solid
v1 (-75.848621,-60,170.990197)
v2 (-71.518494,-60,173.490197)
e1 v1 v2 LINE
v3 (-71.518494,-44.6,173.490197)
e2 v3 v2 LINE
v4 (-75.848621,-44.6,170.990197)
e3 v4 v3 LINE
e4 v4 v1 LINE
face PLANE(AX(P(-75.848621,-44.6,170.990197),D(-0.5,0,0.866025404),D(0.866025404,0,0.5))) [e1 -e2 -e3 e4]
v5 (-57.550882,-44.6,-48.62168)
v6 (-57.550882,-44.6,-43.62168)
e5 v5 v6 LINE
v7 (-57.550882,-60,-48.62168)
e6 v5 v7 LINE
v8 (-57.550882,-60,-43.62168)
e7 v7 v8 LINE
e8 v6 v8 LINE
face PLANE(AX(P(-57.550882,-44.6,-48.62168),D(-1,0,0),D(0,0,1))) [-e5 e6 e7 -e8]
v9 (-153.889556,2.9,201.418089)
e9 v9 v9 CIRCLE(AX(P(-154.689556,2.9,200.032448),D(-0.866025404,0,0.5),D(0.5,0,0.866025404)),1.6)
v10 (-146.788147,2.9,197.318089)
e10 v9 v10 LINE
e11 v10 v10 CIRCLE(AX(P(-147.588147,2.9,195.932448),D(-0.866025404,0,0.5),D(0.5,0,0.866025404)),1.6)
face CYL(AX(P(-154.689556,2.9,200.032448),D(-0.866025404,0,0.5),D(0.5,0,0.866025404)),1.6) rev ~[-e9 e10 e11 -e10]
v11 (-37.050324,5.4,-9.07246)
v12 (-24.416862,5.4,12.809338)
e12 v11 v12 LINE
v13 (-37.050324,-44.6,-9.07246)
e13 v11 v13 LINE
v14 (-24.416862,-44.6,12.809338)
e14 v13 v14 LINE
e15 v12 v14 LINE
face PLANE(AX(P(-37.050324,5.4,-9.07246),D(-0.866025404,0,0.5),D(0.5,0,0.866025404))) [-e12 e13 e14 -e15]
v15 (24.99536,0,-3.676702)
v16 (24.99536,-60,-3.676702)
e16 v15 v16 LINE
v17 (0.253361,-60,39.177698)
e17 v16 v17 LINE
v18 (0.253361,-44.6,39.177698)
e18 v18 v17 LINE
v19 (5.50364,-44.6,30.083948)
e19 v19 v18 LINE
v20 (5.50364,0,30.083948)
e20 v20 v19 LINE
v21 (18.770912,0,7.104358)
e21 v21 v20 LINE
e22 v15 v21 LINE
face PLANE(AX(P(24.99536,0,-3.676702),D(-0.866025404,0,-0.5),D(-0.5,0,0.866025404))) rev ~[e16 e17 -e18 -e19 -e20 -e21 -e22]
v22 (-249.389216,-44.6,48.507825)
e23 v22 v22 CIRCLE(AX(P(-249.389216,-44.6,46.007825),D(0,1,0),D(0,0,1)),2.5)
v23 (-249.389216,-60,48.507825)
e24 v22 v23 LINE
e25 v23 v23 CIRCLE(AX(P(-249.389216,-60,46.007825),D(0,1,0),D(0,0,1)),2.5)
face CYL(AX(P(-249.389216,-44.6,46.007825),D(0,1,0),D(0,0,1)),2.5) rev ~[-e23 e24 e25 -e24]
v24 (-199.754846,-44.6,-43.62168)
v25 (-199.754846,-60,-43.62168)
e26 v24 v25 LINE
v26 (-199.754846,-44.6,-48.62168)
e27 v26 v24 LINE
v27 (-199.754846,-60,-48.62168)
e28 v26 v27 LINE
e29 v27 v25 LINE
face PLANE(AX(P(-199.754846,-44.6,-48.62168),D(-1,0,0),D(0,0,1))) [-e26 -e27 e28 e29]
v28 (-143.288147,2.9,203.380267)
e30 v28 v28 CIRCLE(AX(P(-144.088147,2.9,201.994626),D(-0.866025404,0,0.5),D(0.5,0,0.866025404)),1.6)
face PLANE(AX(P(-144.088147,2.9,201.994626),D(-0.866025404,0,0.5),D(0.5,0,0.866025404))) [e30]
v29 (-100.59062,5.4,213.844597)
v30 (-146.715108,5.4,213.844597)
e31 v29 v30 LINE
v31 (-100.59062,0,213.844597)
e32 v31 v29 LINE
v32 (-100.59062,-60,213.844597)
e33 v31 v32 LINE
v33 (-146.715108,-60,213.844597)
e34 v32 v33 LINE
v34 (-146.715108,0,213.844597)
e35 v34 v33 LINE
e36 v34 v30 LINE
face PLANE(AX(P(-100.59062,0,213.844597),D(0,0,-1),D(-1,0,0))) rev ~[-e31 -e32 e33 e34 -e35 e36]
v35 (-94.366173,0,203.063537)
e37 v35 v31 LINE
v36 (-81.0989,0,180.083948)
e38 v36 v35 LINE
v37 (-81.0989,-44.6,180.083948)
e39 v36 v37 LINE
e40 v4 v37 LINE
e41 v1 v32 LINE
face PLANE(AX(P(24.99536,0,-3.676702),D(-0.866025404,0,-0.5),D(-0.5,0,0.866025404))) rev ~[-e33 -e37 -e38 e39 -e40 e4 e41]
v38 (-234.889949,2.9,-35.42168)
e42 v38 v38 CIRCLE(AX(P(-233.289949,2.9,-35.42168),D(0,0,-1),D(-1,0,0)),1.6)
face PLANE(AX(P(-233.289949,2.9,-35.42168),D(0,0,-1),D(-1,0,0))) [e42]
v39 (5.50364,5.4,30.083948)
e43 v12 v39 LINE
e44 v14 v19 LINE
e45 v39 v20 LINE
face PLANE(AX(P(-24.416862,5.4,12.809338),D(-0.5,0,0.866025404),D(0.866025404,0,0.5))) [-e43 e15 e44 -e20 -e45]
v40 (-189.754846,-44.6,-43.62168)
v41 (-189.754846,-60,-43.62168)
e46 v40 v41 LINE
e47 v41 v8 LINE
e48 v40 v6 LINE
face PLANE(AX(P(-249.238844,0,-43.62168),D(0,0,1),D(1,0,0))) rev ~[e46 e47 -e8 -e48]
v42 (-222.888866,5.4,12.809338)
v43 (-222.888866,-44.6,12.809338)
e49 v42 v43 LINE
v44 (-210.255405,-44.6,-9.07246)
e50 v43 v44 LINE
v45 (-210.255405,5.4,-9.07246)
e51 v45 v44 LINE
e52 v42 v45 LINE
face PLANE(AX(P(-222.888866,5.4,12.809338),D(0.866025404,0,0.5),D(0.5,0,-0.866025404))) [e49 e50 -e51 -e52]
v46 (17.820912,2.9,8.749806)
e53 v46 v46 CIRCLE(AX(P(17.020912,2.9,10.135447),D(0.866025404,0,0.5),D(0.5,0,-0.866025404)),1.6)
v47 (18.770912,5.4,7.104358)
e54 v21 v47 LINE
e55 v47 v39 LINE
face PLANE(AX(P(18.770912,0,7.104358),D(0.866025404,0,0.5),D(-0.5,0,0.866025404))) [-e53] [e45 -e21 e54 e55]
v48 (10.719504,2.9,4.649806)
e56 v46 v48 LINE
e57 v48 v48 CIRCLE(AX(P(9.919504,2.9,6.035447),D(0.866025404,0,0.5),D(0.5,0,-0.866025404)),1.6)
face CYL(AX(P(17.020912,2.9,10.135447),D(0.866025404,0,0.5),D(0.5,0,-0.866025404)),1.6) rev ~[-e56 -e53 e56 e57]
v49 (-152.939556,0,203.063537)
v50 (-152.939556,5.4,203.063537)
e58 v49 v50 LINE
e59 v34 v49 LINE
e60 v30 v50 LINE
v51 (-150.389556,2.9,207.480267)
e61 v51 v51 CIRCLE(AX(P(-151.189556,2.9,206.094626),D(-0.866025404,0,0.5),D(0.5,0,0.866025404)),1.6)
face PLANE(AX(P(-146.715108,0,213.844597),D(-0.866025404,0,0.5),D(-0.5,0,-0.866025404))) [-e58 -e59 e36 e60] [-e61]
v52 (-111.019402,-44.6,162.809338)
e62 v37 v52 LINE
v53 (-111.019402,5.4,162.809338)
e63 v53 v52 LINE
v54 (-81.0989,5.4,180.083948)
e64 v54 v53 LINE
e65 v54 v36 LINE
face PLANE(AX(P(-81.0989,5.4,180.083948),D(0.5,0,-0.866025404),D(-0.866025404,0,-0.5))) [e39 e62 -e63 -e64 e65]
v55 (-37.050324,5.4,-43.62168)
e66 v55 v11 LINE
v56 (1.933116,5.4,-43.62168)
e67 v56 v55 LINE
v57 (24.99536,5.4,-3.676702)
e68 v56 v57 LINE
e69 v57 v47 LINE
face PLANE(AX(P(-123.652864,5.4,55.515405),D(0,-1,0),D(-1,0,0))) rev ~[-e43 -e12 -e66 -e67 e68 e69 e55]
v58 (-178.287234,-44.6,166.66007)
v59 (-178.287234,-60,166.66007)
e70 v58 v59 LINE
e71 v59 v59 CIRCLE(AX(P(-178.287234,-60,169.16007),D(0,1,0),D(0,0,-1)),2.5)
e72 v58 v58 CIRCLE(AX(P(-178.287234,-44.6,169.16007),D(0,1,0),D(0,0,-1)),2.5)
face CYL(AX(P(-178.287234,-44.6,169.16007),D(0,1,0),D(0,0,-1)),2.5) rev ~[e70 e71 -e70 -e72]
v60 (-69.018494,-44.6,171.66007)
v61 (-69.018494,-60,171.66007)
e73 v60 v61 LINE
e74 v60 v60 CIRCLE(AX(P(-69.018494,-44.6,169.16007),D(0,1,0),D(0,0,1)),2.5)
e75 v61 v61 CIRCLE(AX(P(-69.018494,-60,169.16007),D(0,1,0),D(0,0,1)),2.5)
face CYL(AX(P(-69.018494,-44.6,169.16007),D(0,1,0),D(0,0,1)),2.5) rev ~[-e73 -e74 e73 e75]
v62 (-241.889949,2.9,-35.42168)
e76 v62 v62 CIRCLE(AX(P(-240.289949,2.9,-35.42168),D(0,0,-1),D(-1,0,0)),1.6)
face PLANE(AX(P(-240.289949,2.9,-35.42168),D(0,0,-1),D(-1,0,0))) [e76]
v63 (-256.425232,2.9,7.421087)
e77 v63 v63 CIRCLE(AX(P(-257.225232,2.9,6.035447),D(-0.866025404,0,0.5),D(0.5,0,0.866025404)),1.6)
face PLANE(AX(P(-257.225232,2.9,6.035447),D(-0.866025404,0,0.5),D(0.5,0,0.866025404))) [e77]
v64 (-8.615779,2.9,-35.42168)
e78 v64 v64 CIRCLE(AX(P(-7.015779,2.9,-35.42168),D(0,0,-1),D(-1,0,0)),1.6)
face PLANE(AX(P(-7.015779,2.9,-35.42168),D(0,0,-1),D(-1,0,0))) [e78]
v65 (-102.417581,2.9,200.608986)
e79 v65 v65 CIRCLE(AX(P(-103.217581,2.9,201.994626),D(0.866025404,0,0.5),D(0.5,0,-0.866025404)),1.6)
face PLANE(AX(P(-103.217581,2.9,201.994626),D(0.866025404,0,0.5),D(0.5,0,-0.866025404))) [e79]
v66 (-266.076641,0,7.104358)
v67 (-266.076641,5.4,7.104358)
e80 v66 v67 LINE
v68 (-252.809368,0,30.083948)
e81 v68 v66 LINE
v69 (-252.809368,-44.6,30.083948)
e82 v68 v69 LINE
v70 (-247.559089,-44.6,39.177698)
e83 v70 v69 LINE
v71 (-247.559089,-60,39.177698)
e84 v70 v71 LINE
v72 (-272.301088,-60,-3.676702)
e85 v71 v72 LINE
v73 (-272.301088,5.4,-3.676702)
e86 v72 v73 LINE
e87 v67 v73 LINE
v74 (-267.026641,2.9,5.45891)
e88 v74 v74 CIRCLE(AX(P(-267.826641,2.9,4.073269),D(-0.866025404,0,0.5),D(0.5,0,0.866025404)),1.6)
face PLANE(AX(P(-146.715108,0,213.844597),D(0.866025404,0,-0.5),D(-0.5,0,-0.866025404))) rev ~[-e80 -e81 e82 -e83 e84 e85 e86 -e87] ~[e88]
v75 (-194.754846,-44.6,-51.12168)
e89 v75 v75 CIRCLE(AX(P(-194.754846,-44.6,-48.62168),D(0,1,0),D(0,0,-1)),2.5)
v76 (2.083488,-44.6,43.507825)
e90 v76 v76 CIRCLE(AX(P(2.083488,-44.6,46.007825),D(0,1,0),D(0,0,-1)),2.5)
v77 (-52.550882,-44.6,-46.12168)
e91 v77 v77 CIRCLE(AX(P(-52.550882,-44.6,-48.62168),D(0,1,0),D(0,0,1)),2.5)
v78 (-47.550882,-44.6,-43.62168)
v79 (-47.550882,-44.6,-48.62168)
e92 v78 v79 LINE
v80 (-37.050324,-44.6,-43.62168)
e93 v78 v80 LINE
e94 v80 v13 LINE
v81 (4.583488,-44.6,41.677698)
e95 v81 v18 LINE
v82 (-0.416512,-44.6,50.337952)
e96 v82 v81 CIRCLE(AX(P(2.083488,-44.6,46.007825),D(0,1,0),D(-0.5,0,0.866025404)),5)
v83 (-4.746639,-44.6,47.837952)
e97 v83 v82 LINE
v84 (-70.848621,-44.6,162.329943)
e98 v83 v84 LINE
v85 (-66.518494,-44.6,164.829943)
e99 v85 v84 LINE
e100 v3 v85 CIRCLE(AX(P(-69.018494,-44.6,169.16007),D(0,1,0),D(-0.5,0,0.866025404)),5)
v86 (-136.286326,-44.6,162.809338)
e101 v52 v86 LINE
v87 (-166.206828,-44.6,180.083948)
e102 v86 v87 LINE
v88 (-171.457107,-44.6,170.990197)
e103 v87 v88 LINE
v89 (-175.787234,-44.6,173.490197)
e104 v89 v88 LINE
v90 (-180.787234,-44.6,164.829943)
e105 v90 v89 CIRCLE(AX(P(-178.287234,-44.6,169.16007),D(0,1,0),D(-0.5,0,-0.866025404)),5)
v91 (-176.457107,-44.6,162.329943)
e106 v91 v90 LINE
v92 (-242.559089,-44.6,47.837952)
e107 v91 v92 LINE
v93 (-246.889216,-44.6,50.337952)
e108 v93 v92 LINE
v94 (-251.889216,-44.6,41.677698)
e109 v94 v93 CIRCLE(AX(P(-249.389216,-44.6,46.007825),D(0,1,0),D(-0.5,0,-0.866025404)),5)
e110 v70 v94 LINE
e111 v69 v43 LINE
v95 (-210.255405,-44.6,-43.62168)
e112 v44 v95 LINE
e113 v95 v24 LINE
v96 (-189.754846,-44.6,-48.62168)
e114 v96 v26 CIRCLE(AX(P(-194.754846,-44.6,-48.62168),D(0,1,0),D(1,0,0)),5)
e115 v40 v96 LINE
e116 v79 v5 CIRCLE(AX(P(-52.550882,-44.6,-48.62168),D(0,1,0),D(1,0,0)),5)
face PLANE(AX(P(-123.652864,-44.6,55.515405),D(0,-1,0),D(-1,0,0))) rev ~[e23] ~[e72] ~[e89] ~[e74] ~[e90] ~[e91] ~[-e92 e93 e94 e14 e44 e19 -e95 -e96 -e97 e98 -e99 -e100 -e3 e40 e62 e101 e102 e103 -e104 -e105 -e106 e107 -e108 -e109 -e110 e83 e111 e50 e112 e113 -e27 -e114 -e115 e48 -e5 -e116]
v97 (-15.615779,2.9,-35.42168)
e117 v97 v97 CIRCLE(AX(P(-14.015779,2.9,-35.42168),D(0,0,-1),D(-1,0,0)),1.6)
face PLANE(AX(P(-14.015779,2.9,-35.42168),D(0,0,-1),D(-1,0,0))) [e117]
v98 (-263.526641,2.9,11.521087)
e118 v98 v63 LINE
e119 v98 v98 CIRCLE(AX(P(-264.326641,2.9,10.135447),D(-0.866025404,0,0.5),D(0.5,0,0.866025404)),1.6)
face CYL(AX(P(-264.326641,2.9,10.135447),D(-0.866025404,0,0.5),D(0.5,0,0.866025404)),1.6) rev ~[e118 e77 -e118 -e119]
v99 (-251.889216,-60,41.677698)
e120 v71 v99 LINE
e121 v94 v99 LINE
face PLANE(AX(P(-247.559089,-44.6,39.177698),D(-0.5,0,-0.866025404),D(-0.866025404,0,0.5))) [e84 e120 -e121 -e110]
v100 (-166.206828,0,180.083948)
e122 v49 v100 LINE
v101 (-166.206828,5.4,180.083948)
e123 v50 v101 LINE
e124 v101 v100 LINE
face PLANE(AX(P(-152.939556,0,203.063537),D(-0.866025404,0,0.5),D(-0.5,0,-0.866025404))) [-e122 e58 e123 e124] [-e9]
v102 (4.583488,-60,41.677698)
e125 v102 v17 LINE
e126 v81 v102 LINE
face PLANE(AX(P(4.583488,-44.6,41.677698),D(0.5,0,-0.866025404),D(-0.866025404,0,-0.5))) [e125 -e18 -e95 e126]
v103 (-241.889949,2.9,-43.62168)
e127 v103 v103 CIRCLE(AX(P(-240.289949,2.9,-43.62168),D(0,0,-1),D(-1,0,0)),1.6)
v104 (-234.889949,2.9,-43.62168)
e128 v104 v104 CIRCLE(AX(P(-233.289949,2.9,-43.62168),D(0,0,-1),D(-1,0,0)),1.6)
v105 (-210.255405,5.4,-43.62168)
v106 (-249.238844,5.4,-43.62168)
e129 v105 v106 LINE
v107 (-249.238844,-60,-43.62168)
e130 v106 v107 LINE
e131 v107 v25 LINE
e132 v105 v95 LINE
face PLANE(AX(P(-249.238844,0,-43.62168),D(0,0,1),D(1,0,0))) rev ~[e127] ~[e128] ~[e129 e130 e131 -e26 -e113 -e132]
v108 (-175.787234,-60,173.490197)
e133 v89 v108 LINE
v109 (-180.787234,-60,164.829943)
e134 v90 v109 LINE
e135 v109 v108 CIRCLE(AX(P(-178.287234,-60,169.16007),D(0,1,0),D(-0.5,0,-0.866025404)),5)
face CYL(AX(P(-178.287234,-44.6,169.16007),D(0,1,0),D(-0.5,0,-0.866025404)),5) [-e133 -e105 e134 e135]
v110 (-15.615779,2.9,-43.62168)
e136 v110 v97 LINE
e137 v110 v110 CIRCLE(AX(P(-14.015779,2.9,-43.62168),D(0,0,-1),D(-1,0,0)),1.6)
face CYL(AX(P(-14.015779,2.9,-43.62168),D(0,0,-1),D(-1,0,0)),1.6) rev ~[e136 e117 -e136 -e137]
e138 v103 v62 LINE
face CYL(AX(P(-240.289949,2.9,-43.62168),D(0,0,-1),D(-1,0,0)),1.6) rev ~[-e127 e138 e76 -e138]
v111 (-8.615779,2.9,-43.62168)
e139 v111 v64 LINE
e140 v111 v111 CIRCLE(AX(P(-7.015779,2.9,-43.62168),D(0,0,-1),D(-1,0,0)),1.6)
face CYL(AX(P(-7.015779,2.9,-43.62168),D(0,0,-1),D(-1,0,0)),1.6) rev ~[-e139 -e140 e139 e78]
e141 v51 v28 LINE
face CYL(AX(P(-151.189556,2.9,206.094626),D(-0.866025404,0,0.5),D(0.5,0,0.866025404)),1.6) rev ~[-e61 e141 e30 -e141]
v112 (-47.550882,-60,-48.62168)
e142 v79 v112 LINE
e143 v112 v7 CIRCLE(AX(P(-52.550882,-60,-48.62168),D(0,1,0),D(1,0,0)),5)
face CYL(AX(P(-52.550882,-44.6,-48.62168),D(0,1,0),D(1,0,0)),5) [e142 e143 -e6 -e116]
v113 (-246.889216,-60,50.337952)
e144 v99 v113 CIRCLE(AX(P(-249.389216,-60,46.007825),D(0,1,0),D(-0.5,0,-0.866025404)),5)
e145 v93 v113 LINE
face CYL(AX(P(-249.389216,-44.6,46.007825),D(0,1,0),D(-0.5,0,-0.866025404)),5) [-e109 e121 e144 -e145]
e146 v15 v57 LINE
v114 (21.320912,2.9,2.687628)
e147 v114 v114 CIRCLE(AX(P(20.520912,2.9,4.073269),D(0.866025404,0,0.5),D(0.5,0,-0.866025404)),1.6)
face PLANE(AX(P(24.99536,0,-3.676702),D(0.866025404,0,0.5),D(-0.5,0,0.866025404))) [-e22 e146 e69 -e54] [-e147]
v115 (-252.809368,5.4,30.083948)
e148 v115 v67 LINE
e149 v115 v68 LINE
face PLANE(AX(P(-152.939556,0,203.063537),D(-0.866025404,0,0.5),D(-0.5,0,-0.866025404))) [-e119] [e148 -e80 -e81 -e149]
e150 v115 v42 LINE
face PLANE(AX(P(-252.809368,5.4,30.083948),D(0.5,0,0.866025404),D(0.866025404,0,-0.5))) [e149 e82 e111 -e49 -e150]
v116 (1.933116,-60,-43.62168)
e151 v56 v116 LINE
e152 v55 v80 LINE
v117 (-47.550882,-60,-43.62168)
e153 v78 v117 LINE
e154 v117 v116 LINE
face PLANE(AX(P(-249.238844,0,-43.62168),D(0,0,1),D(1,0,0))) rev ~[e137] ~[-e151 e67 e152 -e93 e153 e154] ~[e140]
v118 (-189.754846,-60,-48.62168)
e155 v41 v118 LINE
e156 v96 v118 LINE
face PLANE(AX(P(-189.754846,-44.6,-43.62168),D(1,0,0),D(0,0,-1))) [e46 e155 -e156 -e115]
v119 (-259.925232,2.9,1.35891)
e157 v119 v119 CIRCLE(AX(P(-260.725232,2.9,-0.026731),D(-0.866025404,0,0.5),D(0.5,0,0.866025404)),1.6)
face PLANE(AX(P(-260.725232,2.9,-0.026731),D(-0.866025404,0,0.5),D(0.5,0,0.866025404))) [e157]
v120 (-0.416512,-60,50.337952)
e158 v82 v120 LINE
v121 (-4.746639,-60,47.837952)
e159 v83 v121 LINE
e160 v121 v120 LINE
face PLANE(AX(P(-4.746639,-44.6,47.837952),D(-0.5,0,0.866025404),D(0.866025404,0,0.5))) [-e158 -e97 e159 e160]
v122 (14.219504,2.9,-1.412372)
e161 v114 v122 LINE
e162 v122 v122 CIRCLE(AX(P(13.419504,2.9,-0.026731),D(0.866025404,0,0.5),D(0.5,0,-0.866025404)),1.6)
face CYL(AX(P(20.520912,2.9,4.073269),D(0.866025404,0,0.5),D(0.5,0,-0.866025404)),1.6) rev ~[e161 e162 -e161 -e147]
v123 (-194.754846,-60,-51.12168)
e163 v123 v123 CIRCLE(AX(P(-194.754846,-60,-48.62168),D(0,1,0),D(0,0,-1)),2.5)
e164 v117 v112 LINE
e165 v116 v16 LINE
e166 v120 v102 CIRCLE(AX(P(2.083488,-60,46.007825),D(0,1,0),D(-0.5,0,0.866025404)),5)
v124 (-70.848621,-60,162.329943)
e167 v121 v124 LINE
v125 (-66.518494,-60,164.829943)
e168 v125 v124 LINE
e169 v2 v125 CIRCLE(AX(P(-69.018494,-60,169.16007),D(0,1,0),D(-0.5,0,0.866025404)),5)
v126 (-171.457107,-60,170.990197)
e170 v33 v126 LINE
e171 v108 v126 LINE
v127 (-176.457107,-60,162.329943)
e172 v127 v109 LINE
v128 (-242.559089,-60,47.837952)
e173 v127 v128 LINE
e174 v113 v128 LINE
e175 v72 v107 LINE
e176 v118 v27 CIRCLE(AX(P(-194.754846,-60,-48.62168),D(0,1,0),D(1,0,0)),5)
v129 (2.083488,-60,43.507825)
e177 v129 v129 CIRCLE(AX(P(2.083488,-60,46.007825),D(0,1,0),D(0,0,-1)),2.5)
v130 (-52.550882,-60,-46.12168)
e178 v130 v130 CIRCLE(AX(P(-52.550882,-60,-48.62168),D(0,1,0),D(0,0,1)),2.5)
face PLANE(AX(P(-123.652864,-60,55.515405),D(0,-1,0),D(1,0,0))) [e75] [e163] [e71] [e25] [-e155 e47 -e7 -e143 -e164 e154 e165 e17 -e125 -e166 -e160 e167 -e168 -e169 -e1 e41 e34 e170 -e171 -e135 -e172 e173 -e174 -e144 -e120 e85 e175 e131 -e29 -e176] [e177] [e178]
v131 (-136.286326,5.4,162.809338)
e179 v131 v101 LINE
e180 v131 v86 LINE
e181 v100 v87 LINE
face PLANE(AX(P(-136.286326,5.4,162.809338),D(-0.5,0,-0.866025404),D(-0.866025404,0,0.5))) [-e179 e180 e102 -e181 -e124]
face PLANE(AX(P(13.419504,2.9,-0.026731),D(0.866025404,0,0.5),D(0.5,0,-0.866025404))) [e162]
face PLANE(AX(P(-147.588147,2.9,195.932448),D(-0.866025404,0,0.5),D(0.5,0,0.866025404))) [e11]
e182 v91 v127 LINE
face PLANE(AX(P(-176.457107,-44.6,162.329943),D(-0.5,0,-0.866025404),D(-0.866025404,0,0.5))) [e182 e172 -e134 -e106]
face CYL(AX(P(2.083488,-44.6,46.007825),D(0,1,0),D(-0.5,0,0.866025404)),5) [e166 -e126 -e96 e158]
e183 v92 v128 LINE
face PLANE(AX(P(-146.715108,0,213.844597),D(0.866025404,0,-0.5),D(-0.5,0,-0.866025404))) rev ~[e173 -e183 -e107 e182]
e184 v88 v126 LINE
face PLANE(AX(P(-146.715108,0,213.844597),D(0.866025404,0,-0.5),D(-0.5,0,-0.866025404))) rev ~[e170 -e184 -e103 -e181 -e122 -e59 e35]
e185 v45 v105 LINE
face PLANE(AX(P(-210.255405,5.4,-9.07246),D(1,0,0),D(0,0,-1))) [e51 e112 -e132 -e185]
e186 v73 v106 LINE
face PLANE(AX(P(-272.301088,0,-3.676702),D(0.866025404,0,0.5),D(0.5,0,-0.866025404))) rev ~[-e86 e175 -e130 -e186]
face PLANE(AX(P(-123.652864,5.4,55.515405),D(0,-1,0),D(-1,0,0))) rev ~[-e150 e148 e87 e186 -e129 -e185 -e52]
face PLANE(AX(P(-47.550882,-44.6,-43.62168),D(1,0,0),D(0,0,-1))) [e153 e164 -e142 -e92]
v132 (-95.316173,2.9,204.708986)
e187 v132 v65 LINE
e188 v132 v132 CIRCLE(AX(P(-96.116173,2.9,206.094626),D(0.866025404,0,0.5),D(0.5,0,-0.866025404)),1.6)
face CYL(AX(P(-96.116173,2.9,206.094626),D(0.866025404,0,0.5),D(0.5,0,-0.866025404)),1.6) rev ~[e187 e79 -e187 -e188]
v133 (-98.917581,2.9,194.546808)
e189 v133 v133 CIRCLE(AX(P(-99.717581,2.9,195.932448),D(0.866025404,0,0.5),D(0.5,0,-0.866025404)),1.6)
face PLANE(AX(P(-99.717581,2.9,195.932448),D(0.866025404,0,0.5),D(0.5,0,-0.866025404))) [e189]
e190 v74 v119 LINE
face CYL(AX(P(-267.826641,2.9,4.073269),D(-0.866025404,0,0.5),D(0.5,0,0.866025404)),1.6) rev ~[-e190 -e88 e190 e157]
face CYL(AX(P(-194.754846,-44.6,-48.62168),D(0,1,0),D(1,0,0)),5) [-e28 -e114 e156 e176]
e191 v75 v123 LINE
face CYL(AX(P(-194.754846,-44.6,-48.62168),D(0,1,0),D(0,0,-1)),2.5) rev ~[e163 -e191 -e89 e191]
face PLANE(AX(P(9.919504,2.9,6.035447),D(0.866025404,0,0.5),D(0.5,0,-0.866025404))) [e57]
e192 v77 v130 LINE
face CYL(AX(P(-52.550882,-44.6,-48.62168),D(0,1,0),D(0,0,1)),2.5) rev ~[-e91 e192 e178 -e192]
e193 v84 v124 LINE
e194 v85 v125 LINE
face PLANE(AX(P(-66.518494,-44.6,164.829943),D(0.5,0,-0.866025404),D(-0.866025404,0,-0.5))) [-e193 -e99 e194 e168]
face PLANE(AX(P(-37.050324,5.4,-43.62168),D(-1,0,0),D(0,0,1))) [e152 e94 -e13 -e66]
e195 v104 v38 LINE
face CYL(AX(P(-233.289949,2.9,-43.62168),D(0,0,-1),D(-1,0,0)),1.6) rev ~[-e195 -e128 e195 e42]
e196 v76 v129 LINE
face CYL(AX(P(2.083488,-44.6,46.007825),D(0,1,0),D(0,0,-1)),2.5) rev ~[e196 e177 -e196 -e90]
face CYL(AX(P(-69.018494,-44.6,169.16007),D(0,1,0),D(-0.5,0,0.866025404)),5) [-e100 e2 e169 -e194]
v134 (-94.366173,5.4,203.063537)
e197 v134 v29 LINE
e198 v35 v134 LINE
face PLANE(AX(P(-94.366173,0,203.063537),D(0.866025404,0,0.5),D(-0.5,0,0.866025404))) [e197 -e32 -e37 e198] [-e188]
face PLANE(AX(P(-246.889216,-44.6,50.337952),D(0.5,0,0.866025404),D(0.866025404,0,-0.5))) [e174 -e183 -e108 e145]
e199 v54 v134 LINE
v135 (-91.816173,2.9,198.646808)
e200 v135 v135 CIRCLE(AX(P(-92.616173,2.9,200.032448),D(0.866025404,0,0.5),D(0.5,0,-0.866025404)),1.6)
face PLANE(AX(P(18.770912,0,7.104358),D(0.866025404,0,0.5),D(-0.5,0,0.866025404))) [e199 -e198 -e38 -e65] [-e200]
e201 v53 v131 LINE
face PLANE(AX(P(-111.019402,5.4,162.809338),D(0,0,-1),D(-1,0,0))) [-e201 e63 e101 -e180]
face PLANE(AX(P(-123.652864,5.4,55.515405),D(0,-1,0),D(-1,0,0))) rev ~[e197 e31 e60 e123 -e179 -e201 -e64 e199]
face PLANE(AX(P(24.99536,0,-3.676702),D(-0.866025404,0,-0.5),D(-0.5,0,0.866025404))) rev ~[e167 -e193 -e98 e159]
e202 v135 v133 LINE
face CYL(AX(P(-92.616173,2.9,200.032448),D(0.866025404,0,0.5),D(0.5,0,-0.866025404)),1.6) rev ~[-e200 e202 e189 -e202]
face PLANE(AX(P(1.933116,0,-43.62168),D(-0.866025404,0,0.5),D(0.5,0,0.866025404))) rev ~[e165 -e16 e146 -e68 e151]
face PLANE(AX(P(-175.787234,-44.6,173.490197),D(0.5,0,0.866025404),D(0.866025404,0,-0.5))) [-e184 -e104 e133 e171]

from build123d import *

# Parameters (mm, degrees)
BOSS_EXTRUDE2_DEPTH = 5.4
BOSS_EXTRUDE3_DEPTH = 60
SKETCH28_R          = 1.6
CUT_EXTRUDE3_DEPTH  = 8.2
SKETCH29_R          = 1.6
CUT_EXTRUDE4_DEPTH  = 8.2
SKETCH30_R          = 1.6
CUT_EXTRUDE5_DEPTH  = 8.2
SKETCH31_R          = 1.6
CUT_EXTRUDE6_DEPTH  = 8.2
CUT_EXTRUDE7_DEPTH  = 50
SKETCH33_R          = 2.5
BOSS_EXTRUDE4_DEPTH = 15.4


with BuildPart() as part:
    # Sketch1 → Boss-Extrude2 (new body)
    with BuildSketch(Plane(origin=(0, 0, 0), x_dir=(1, 0, 0), z_dir=(0, 1, 0))):
        Polygon((-266.076640718, -7.104357828), (-272.301088237, 3.676701524), (-249.238844193, 43.621679945), (-236.789949155, 43.621679945), (-10.515779175, 43.621679945), (1.933115864, 43.621679945), (24.995359908, 3.676701524), (18.770912388, -7.104357828), (-94.366172601, -203.063537251), (-100.590620121, -213.844596604), (-146.715108209, -213.844596604), (-152.939555728, -203.063537251), align=None)
    extrude(amount=BOSS_EXTRUDE2_DEPTH)

    # Sketch25 → Boss-Extrude3 (add)
    with BuildSketch(Plane.XZ):
        Polygon((-272.301088237, -3.676701524), (-249.238844193, -43.621679945), (1.933115864, -43.621679945), (24.995359908, -3.676701524), (-100.590620121, 213.844596604), (-146.715108209, 213.844596604), align=None)
    extrude(amount=BOSS_EXTRUDE3_DEPTH)

    # Sketch28 → Cut-Extrude3 (cut)
    with BuildSketch(Plane(origin=(-202.633757717, 0, 116.990654565), x_dir=(0.499999999999994, 0, 0.8660254037844421), z_dir=(-0.8660254037844421, 0, 0.499999999999994))):
        with Locations((95.888403978, 2.9)):
            Circle(SKETCH28_R)
        with Locations((102.888403978, 2.9)):
            Circle(SKETCH28_R)
    extrude(amount=-CUT_EXTRUDE3_DEPTH, mode=Mode.SUBTRACT)

    # Sketch29 → Cut-Extrude4 (cut)
    with BuildSketch(Plane(origin=(-202.633757717, 0, 116.990654565), x_dir=(0.499999999999994, 0, 0.8660254037844421), z_dir=(-0.8660254037844421, 0, 0.499999999999994))):
        with Locations((-130.385766002, 2.9)):
            Circle(SKETCH29_R)
        with Locations((-123.385766002, 2.9)):
            Circle(SKETCH29_R)
    extrude(amount=-CUT_EXTRUDE4_DEPTH, mode=Mode.SUBTRACT)

    # Sketch30 → Cut-Extrude5 (cut)
    with BuildSketch(Plane(origin=(0, 0, -43.621679945), x_dir=(-1, 0, 0), z_dir=(0, 0, -1))):
        with Locations((233.289949155, 2.9)):
            Circle(SKETCH30_R)
        with Locations((240.289949155, 2.9)):
            Circle(SKETCH30_R)
        with Locations((7.015779175, 2.9)):
            Circle(SKETCH30_R)
        with Locations((14.015779175, 2.9)):
            Circle(SKETCH30_R)
    extrude(amount=-CUT_EXTRUDE5_DEPTH, mode=Mode.SUBTRACT)

    # Sketch31 → Cut-Extrude6 (cut)
    with BuildSketch(Plane(origin=(17.15446147, 0, 9.904132947), x_dir=(0.49999999999999983, 0, -0.8660254037844387), z_dir=(0.8660254037844387, 0, 0.49999999999999983))):
        with Locations((-0.267098163, 2.9)):
            Circle(SKETCH31_R)
        with Locations((6.732901837, 2.9)):
            Circle(SKETCH31_R)
        with Locations((-226.541268142, 2.9)):
            Circle(SKETCH31_R)
        with Locations((-219.541268142, 2.9)):
            Circle(SKETCH31_R)
    extrude(amount=-CUT_EXTRUDE6_DEPTH, mode=Mode.SUBTRACT)

    # Sketch32 → Cut-Extrude7 (cut)
    with BuildSketch(Plane(origin=(0, 5.4, 0), x_dir=(1, 0, 0), z_dir=(0, 1, 0))):
        Polygon((-252.809368412, -30.08394754), (-222.888866427, -12.809337664), (-210.255404543, 9.072460194), (-210.255404543, 43.621679945), (-37.050323786, 43.621679945), (-37.050323786, 9.072460194), (-24.416861903, -12.809337664), (5.503640083, -30.08394754), (-81.098900296, -180.08394754), (-111.019402281, -162.809337664), (-136.286326048, -162.809337664), (-166.206828034, -180.08394754), align=None)
    extrude(amount=-CUT_EXTRUDE7_DEPTH, mode=Mode.SUBTRACT)

    # Sketch33 → Boss-Extrude4 (add)
    # profile 1 of 6: a face of its own
    with BuildSketch(Plane(origin=(0, -44.6, 0), x_dir=(1, 0, 0), z_dir=(0, 1, 0))):
        with BuildLine():
            Line((-57.550882031, 43.621679945), (-47.550882031, 43.621679945))
            Line((-47.550882031, 43.621679945), (-47.550882031, 48.621679945))
            ThreePointArc((-47.550882031, 48.621679945), (-52.550882031, 53.621679945), (-57.550882031, 48.621679945))
            Line((-57.550882031, 48.621679945), (-57.550882031, 43.621679945))
        make_face()
        with Locations(Location((-52.550882031, 48.621679945, 0), (0, 0, 270))):
            Circle(SKETCH33_R, mode=Mode.SUBTRACT)
    # profile 2 of 6: a face of its own
    with BuildSketch(Plane(origin=(0, -44.6, 0), x_dir=(1, 0, 0), z_dir=(0, 1, 0))):
        with BuildLine():
            Line((-189.754846299, 43.621679945), (-189.754846299, 48.621679945))
            ThreePointArc((-189.754846299, 48.621679945), (-194.754846299, 53.621679945), (-199.754846299, 48.621679945))
            Line((-199.754846299, 48.621679945), (-199.754846299, 43.621679945))
            Line((-199.754846299, 43.621679945), (-189.754846299, 43.621679945))
        make_face()
        with Locations(Location((-194.754846299, 48.621679945, 0), (0, 0, 90))):
            Circle(SKETCH33_R, mode=Mode.SUBTRACT)
    # profile 3 of 6: a face of its own
    with BuildSketch(Plane(origin=(0, -44.6, 0), x_dir=(1, 0, 0), z_dir=(0, 1, 0))):
        with BuildLine():
            Line((-242.55908929, -47.837951771), (-247.55908929, -39.177697733))
            Line((-247.55908929, -39.177697733), (-251.889216309, -41.677697733))
            ThreePointArc((-251.889216309, -41.677697733), (-253.719343328, -48.507824752), (-246.889216309, -50.337951771))
            Line((-246.889216309, -50.337951771), (-242.55908929, -47.837951771))
        make_face()
        with Locations(Location((-249.389216309, -46.007824752, 0), (0, 0, 270))):
            Circle(SKETCH33_R, mode=Mode.SUBTRACT)
    # profile 4 of 6: a face of its own
    with BuildSketch(Plane(origin=(0, -44.6, 0), x_dir=(1, 0, 0), z_dir=(0, 1, 0))):
        with BuildLine():
            Line((-176.457107156, -162.329943308), (-180.787234175, -164.829943308))
            ThreePointArc((-180.787234175, -164.829943308), (-182.617361194, -171.660070327), (-175.787234175, -173.490197346))
            Line((-175.787234175, -173.490197346), (-171.457107156, -170.990197346))
            Line((-171.457107156, -170.990197346), (-176.457107156, -162.329943308))
        make_face()
        with Locations(Location((-178.287234175, -169.160070327, 0), (0, 0, 90))):
            Circle(SKETCH33_R, mode=Mode.SUBTRACT)
    # profile 5 of 6: a face of its own
    with BuildSketch(Plane(origin=(0, -44.6, 0), x_dir=(1, 0, 0), z_dir=(0, 1, 0))):
        with BuildLine():
            Line((-70.848621174, -162.329943308), (-75.848621174, -170.990197346))
            Line((-75.848621174, -170.990197346), (-71.518494155, -173.490197346))
            ThreePointArc((-71.518494155, -173.490197346), (-64.688367136, -171.660070327), (-66.518494155, -164.829943308))
            Line((-66.518494155, -164.829943308), (-70.848621174, -162.329943308))
        make_face()
        with Locations(Location((-69.018494155, -169.160070327, 0), (0, 0, 270))):
            Circle(SKETCH33_R, mode=Mode.SUBTRACT)
    # profile 6 of 6: a face of its own
    with BuildSketch(Plane(origin=(0, -44.6, 0), x_dir=(1, 0, 0), z_dir=(0, 1, 0))):
        with BuildLine():
            Line((-4.74663904, -47.837951771), (-0.416512021, -50.337951771))
            ThreePointArc((-0.416512021, -50.337951771), (6.413614998, -48.507824752), (4.583487979, -41.677697733))
            Line((4.583487979, -41.677697733), (0.25336096, -39.177697733))
            Line((0.25336096, -39.177697733), (-4.74663904, -47.837951771))
        make_face()
        with Locations(Location((2.083487979, -46.007824752, 0), (0, 0, 90))):
            Circle(SKETCH33_R, mode=Mode.SUBTRACT)
    extrude(amount=-BOSS_EXTRUDE4_DEPTH)


solid = part.part
